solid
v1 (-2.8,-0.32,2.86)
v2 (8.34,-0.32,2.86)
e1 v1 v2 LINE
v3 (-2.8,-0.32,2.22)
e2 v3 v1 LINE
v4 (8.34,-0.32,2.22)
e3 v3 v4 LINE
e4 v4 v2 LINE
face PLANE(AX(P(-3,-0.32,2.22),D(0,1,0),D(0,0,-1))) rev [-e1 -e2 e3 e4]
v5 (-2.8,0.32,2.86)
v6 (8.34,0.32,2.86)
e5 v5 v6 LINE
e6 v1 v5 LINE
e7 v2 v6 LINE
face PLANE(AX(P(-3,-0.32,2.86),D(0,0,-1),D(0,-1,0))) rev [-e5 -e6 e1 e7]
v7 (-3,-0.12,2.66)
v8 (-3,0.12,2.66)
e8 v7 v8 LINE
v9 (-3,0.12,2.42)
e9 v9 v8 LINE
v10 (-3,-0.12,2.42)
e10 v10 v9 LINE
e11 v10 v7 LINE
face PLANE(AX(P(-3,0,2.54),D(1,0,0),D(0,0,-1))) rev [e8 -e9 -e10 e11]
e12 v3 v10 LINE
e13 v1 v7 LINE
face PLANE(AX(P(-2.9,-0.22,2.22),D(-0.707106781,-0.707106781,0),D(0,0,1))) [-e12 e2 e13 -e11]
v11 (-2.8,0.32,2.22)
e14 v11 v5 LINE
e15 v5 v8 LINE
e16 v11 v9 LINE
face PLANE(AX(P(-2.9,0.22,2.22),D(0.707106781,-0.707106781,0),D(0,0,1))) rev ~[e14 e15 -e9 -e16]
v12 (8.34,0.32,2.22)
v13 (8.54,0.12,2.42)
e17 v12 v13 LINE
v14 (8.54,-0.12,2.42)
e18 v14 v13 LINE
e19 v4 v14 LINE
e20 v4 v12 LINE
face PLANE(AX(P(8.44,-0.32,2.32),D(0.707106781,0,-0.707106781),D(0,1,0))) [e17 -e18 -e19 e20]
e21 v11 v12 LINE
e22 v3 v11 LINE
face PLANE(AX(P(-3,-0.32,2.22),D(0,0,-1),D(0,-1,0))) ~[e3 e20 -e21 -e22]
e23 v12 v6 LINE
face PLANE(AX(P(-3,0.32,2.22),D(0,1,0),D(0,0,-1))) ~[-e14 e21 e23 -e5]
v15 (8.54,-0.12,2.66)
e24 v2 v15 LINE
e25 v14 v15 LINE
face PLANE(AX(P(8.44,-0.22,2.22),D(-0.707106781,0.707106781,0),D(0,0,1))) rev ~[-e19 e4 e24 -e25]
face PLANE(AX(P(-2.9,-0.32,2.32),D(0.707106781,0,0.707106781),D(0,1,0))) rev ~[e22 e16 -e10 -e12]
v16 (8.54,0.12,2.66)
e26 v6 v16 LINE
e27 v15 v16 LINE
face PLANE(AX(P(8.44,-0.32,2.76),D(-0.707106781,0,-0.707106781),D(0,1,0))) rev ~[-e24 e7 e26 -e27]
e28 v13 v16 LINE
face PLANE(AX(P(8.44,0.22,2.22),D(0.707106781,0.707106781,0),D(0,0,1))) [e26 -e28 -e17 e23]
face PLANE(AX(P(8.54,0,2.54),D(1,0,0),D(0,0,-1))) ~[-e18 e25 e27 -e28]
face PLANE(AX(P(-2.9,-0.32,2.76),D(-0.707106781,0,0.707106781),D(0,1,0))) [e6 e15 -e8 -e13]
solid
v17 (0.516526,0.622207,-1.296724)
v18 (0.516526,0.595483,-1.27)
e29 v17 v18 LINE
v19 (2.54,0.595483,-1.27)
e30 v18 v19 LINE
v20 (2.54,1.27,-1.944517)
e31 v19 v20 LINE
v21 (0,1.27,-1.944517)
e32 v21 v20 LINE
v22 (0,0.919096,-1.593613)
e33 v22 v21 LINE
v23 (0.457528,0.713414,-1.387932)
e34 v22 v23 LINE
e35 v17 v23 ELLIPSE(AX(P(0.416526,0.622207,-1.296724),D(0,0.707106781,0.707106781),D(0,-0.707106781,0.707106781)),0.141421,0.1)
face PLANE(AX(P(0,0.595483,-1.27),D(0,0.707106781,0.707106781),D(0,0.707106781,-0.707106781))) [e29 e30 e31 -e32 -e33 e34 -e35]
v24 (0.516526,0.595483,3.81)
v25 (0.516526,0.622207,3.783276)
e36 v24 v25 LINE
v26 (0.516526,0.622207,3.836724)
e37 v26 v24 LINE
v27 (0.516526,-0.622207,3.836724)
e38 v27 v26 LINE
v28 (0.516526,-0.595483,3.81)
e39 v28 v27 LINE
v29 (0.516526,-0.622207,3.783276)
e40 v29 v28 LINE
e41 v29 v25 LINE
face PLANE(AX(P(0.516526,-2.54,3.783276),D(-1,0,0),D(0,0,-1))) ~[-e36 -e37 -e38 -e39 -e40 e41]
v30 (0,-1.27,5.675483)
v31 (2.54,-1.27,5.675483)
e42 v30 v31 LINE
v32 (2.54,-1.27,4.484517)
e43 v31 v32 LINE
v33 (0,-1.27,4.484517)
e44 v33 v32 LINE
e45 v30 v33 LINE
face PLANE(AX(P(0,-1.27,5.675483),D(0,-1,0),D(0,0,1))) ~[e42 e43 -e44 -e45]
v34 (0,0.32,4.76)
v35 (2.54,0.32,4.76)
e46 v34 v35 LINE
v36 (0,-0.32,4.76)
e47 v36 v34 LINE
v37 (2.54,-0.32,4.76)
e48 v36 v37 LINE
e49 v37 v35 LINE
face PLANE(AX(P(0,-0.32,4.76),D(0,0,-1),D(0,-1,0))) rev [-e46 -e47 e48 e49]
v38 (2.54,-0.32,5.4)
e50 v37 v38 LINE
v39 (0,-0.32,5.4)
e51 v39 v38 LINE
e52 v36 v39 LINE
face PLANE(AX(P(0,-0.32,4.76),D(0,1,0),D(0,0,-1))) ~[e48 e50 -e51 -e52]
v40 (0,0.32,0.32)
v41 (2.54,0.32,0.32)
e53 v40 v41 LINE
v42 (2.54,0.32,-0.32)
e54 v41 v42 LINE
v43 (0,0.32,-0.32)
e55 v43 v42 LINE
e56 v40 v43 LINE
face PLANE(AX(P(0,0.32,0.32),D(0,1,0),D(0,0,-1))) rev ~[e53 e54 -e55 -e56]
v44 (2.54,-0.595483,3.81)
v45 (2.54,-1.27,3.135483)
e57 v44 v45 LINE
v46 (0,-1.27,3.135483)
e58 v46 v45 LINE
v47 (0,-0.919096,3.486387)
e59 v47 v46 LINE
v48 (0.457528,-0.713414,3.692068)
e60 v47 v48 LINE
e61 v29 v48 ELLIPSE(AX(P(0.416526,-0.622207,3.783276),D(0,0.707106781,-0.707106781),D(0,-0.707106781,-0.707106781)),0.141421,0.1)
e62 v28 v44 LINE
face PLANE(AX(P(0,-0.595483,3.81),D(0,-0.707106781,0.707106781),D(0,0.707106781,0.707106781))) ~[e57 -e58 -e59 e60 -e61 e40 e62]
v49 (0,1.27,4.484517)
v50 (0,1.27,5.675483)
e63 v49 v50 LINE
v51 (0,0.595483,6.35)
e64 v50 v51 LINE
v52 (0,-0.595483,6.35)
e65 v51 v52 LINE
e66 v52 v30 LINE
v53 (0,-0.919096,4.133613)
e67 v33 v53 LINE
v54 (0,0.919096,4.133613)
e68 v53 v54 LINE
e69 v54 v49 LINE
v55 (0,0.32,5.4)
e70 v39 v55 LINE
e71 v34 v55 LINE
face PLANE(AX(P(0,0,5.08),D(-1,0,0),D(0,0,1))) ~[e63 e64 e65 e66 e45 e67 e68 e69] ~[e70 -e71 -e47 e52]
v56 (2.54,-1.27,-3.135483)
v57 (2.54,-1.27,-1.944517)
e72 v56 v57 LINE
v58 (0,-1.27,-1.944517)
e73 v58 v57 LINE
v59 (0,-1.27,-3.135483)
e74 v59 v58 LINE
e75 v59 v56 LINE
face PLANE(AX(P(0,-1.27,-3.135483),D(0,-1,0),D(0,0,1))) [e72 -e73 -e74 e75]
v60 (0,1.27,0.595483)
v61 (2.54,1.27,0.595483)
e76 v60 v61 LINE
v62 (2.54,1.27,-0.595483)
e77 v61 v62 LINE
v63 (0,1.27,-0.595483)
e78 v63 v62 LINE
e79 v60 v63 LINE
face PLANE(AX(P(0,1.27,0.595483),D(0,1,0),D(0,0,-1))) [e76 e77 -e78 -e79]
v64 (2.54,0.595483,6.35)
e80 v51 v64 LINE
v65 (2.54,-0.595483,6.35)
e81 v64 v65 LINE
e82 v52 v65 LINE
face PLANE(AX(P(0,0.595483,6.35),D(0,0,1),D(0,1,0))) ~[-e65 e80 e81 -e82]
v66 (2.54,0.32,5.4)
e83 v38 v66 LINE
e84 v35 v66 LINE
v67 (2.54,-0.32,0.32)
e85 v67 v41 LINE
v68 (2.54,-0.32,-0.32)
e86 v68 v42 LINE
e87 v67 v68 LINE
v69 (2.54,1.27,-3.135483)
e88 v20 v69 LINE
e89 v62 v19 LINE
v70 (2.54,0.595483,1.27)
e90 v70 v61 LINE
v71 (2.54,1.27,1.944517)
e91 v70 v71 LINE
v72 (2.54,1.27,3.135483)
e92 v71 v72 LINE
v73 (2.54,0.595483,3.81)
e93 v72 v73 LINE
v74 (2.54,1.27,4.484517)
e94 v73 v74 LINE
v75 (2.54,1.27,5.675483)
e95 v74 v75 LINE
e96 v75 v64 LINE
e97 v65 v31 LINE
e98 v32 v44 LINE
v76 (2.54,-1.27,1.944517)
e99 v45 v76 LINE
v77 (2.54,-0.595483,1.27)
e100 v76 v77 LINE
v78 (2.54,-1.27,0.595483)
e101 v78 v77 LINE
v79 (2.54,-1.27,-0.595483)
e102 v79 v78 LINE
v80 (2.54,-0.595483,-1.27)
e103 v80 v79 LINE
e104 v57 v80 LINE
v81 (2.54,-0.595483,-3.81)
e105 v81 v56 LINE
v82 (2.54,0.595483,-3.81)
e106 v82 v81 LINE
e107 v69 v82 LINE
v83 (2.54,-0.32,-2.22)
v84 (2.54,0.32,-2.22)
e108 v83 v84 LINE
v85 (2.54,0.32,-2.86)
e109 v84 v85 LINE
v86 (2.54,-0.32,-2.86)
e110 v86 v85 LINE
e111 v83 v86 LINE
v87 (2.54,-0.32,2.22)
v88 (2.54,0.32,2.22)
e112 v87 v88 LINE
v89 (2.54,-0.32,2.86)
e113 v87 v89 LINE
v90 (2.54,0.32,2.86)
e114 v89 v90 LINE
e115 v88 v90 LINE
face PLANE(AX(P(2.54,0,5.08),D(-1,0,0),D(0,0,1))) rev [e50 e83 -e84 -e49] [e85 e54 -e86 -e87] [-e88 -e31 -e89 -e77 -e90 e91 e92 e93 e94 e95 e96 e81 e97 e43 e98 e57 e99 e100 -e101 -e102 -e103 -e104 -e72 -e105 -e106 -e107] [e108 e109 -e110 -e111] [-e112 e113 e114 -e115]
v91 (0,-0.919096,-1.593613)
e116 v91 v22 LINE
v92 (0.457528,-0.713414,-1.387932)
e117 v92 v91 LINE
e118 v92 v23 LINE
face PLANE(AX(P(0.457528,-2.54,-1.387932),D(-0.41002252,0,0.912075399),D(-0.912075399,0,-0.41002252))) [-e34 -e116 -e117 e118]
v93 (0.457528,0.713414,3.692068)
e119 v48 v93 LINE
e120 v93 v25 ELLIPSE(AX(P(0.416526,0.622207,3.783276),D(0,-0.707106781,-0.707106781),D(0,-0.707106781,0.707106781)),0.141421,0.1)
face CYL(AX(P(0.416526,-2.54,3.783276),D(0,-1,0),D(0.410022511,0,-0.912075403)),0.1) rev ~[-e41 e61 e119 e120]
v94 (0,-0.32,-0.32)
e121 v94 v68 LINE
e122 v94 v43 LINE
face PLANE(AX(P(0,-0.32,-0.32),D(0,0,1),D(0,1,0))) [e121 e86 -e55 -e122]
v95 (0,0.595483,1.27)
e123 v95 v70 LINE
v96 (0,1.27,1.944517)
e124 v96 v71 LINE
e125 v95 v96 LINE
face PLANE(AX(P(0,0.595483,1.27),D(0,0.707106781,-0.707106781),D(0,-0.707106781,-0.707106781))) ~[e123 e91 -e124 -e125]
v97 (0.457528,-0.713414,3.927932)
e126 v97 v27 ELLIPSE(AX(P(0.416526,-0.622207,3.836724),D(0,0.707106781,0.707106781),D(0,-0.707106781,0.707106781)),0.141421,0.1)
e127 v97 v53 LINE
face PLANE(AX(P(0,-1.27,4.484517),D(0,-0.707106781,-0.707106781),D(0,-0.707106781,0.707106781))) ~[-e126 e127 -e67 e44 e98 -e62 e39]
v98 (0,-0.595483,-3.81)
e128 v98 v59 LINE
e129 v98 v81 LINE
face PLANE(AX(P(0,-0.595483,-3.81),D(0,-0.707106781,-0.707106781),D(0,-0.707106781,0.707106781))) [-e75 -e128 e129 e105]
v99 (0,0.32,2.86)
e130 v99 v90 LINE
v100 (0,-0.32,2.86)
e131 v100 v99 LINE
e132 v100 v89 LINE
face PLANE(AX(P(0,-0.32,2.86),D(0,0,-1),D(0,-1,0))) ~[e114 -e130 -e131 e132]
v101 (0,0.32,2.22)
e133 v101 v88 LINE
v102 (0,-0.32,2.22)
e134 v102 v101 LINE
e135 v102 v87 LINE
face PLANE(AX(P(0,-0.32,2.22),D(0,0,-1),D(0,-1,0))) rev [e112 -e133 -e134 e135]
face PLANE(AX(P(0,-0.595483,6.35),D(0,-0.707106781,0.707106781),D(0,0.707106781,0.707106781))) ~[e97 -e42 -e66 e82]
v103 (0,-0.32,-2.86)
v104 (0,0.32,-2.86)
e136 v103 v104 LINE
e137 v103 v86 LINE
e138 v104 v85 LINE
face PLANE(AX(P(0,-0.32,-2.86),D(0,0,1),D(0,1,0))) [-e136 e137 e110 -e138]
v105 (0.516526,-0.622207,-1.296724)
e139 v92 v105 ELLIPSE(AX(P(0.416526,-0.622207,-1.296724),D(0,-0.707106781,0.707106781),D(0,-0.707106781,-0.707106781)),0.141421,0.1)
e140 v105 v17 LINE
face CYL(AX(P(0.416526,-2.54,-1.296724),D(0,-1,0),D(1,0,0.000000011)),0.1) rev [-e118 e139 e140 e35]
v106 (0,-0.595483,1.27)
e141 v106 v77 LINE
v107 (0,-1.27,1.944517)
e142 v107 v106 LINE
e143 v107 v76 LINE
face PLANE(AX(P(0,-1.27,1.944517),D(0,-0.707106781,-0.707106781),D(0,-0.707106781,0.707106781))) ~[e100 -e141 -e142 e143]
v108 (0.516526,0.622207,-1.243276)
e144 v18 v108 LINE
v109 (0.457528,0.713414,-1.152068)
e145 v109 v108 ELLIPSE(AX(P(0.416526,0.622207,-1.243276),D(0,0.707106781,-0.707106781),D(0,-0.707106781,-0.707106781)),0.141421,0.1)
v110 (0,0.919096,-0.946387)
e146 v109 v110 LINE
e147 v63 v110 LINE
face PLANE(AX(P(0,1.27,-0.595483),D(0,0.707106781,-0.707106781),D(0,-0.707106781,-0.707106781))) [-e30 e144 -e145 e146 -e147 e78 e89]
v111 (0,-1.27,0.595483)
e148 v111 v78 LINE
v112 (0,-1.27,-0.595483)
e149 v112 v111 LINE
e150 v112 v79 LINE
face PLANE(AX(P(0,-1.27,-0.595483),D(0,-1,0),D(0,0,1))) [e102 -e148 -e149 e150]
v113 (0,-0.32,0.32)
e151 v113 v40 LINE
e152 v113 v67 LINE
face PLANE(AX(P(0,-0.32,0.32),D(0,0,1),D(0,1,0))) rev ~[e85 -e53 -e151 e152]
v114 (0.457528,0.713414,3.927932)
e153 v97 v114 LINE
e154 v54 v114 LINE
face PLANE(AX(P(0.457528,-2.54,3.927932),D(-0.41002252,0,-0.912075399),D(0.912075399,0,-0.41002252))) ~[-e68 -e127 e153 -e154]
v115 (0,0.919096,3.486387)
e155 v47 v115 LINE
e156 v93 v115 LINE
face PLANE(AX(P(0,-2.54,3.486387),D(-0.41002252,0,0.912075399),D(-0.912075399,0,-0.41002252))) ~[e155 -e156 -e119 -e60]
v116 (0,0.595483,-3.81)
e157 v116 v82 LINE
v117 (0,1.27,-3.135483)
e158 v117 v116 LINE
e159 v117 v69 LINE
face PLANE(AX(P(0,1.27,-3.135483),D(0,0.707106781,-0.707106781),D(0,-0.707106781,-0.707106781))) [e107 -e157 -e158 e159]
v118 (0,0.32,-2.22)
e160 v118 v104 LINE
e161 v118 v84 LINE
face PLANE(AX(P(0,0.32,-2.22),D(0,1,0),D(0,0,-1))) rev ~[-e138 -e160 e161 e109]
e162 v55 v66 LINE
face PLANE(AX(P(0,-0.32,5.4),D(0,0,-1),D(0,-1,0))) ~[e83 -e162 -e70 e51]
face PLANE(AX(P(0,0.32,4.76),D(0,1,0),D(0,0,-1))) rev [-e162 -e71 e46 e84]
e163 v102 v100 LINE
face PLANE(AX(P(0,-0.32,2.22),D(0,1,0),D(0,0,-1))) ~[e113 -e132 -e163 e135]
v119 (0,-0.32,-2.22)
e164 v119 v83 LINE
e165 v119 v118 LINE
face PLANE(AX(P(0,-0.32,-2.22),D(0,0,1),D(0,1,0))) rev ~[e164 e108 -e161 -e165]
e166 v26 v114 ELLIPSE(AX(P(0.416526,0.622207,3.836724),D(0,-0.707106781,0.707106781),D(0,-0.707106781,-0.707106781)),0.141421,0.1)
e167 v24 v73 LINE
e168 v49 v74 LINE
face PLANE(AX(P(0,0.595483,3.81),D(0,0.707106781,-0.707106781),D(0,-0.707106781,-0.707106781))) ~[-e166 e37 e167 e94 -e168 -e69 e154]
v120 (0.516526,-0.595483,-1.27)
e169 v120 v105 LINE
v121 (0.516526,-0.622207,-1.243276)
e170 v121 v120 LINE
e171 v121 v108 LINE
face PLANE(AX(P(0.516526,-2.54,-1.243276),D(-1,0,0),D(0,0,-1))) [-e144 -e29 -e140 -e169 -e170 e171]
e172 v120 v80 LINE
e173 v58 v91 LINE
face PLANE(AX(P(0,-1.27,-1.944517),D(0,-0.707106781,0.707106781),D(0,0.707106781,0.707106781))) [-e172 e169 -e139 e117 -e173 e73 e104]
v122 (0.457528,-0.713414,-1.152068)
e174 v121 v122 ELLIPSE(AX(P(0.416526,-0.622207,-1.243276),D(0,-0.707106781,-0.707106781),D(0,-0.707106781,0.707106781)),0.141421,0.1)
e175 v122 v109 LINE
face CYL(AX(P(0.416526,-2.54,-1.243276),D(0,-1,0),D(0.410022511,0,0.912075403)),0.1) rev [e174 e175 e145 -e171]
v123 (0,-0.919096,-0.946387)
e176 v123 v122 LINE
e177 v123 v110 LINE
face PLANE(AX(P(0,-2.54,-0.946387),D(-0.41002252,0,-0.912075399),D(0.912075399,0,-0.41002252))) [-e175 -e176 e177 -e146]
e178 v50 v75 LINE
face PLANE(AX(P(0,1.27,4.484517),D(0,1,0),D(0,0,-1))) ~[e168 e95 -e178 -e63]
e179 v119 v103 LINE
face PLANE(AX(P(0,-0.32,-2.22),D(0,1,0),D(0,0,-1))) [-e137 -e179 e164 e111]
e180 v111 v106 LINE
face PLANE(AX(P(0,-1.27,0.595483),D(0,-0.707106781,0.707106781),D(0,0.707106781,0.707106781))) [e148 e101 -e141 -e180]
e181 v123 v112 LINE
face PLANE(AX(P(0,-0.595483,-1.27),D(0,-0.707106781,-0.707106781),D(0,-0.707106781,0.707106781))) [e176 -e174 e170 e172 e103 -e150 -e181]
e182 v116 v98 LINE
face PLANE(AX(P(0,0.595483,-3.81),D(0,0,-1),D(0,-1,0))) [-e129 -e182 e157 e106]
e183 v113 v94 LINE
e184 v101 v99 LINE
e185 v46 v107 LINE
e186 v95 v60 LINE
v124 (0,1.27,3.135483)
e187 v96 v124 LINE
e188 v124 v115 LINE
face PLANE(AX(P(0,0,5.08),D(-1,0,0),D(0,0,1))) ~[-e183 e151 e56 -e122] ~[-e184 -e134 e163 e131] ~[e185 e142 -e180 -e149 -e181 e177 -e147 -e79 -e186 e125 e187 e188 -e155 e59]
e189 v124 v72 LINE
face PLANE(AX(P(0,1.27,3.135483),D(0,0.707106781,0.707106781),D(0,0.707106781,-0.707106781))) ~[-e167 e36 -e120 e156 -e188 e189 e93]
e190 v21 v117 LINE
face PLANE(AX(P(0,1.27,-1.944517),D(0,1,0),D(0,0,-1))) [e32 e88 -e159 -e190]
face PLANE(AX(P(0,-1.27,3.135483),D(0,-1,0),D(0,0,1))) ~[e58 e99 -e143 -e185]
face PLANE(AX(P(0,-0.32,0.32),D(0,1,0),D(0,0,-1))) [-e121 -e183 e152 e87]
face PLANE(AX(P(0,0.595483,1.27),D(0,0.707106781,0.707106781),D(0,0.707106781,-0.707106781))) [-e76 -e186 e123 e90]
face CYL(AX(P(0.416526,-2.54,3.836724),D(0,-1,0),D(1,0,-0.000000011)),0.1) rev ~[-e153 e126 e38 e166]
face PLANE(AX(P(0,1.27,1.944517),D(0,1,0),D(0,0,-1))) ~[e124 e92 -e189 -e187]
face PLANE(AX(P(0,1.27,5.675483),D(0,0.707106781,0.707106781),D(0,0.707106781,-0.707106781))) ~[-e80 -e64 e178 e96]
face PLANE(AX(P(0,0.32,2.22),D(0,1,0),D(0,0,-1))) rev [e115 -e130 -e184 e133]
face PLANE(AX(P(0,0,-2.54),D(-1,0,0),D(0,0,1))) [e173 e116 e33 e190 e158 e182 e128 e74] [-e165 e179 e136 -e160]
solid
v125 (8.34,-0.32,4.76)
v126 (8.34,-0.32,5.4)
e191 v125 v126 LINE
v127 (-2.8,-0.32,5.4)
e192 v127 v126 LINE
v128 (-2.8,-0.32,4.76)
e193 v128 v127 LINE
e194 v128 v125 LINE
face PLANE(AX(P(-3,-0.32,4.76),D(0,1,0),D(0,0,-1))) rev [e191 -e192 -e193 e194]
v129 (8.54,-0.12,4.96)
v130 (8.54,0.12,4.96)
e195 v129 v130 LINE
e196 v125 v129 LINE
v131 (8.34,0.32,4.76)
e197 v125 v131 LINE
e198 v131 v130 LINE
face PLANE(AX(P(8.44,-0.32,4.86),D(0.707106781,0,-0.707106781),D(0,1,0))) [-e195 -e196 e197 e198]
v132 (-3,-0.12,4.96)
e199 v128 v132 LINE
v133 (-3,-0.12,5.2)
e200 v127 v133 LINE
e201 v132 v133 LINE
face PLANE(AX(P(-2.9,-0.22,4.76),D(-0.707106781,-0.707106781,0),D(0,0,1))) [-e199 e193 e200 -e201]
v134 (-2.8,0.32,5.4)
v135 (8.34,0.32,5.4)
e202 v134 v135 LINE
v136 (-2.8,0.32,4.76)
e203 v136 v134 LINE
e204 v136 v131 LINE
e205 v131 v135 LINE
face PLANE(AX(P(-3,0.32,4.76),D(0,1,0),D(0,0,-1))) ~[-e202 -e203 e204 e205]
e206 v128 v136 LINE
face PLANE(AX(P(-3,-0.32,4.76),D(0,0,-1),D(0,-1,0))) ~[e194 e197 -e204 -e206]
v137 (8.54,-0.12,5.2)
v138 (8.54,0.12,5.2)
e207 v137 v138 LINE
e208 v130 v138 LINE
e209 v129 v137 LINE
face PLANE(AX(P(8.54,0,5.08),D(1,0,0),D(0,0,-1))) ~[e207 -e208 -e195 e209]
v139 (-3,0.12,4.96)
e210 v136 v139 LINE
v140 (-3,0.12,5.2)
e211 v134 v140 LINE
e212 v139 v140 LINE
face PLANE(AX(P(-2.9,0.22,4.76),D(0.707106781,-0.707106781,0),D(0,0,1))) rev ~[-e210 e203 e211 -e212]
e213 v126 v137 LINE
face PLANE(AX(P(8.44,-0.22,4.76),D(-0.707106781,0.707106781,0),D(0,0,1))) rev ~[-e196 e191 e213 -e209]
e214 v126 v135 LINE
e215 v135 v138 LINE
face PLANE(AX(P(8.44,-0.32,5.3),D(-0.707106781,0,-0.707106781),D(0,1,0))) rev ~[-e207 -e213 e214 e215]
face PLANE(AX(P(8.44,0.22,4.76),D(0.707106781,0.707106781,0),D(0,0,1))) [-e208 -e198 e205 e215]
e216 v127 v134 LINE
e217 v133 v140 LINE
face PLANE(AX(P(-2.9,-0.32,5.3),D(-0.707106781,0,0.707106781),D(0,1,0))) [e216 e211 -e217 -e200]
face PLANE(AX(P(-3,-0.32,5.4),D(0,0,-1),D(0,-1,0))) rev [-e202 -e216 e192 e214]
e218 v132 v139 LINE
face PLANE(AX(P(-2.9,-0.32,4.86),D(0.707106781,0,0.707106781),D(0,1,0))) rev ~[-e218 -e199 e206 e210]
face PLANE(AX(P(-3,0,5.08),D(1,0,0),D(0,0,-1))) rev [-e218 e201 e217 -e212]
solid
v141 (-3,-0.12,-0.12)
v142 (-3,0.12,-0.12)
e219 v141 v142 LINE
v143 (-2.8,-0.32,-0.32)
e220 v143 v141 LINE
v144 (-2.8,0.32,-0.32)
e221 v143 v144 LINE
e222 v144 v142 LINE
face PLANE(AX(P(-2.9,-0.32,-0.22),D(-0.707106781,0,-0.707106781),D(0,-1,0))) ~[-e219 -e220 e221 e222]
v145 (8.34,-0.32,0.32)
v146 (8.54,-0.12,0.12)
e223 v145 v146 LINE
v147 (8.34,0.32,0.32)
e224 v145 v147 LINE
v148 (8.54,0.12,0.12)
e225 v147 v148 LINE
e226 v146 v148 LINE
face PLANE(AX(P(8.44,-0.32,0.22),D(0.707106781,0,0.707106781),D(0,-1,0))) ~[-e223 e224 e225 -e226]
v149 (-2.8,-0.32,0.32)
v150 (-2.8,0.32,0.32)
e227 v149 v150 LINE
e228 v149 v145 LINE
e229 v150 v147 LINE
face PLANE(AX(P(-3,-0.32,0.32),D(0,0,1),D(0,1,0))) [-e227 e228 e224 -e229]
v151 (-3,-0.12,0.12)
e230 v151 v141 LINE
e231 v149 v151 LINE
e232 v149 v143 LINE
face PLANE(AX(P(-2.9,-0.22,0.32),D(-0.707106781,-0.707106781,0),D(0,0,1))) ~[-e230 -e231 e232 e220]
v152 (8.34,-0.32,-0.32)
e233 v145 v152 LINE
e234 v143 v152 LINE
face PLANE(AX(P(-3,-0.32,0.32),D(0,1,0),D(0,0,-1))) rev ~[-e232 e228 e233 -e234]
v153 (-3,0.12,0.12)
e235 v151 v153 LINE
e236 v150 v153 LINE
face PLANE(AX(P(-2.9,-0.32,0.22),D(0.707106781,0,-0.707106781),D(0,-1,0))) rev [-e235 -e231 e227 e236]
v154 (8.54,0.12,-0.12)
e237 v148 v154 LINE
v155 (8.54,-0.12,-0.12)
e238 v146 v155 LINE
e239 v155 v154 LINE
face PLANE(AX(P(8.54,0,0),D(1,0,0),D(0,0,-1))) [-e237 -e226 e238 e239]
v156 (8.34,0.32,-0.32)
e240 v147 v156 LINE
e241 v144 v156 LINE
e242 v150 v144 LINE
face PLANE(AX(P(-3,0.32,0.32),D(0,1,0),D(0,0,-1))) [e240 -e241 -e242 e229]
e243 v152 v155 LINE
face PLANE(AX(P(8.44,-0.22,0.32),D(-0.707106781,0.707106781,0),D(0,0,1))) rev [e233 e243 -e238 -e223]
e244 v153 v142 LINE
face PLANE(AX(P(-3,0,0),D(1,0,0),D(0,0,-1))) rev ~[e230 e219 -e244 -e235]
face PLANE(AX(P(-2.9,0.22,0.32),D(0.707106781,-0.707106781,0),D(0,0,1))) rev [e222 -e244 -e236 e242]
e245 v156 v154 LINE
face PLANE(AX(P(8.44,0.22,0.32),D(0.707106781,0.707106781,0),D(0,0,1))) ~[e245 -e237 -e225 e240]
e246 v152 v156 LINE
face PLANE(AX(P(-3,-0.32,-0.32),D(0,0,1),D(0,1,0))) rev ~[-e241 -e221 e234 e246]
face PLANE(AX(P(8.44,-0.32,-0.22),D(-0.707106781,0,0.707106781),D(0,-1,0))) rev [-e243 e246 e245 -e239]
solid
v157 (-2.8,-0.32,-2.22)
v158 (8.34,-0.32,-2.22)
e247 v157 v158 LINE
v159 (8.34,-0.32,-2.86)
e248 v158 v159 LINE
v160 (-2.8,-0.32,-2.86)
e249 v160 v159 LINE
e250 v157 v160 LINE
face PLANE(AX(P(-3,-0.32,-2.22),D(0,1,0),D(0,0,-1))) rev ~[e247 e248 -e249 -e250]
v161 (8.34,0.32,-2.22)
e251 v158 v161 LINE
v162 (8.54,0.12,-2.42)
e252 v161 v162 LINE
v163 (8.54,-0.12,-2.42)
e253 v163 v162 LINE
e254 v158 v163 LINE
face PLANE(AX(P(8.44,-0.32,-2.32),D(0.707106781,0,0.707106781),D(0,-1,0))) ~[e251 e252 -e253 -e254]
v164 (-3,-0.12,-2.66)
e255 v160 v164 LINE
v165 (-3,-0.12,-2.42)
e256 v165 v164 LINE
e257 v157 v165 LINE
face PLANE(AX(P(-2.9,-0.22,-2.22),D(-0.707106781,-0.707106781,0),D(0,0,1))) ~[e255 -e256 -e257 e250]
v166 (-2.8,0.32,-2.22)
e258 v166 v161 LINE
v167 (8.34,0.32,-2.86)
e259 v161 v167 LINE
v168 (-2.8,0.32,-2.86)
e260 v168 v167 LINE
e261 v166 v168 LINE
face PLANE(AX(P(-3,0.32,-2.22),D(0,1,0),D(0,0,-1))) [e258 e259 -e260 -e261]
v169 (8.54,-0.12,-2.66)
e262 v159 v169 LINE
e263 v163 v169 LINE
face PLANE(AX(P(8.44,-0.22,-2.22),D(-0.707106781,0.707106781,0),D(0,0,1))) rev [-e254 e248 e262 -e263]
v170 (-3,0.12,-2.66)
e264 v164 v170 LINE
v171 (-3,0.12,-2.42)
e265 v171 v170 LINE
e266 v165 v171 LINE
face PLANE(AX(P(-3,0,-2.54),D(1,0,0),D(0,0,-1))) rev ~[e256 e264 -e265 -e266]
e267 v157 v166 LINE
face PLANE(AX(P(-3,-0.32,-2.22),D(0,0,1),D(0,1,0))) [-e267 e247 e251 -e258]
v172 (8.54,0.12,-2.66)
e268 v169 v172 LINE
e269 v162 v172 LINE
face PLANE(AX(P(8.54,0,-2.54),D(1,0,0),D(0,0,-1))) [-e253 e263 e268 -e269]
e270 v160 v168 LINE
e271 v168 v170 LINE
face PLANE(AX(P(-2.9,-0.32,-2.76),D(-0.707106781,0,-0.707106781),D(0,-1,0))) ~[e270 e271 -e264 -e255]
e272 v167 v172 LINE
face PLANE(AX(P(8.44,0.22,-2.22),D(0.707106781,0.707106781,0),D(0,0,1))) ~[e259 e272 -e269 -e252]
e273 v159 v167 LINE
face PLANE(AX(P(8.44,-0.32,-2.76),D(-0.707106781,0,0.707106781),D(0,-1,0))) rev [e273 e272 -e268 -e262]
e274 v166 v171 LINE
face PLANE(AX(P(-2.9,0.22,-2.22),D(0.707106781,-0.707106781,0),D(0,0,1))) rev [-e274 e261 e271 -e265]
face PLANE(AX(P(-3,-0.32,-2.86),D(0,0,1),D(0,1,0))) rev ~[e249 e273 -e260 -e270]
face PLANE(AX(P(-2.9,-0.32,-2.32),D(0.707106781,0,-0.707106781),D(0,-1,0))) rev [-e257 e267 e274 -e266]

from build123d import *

# Parameters (mm, degrees)
CROQUIS1_W                     = 0.64
CROQUIS1_H                     = 0.64
SALIENTE_EXTRUIR1_DEPTH        = 2.54
CORTAR_EXTRUIR1_DEPTH          = 2.54
CORTAR_EXTRUIR1_DEPTH_BACK     = 2.54
SALIENTE_EXTRUIR2_DEPTH        = 8.54
SALIENTE_EXTRUIR2_DEPTH_BACK   = 3
CROQUIS3_W                     = 0.64
CROQUIS3_H                     = 0.64
SALIENTE_EXTRUIR2_2_DEPTH      = 8.54
SALIENTE_EXTRUIR2_2_DEPTH_BACK = 3
CHAFL_N1_SIZE                  = 0.2
CHAFL_N2_SIZE                  = 0.2


with BuildPart() as part:
    # Croquis1 → Saliente-Extruir1 (new body)
    # profile 1 of 2: a face of its own
    with BuildSketch(Plane(origin=(0, 0, 0), x_dir=(0, 0, -1), z_dir=(1, 0, 0))):
        Polygon((1.27, 0.595482683), (1.27, -0.595482683), (0.595482683, -1.27), (-0.595482683, -1.27), (-1.27, -0.595482683), (-1.27, 0.595482683), (-0.595482683, 1.27), (0.595482683, 1.27), align=None)
        Rectangle(CROQUIS1_W, CROQUIS1_H, mode=Mode.SUBTRACT)
    # profile 2 of 2: a face of its own
    with BuildSketch(Plane(origin=(0, 0, 0), x_dir=(0, 0, -1), z_dir=(1, 0, 0))):
        Polygon((3.135482683, 1.27), (3.81, 0.595482683), (3.81, -0.595482683), (3.135482683, -1.27), (1.944517317, -1.27), (1.27, -0.595482683), (1.27, 0.595482683), (1.944517317, 1.27), align=None)
        with Locations((2.54, 0)):
            Rectangle(CROQUIS1_W, CROQUIS1_H, mode=Mode.SUBTRACT)
    extrude(amount=SALIENTE_EXTRUIR1_DEPTH)

    # Croquis2 → Cortar-Extruir1 (cut, two sides: drawn at the far end of the back side and taken through both)
    with BuildSketch(Plane(origin=(0, 0, 0), x_dir=(1, 0, 0), z_dir=(0, 1, 0)).offset(-CORTAR_EXTRUIR1_DEPTH_BACK)):
        with BuildLine():
            Line((0.516526244, 1.243275937), (0.516526244, 1.296724063))
            ThreePointArc((0.516526244, 1.296724063), (0.500491193, 1.351036929), (0.457528496, 1.387931603))
            Line((0.457528496, 1.387931603), (0, 1.593613049))
            Line((0, 1.593613049), (0, 0.946386951))
            Line((0, 0.946386951), (0.457528496, 1.152068397))
            ThreePointArc((0.457528496, 1.152068397), (0.500491193, 1.188963071), (0.516526244, 1.243275937))
        make_face()
    extrude(amount=CORTAR_EXTRUIR1_DEPTH + CORTAR_EXTRUIR1_DEPTH_BACK, mode=Mode.SUBTRACT)

    # Mirror5: part across plane


with BuildPart() as body_2:
    # Croquis3 → Saliente-Extruir2 (new, two sides: drawn at the far end of the back side and taken through both)
    with BuildSketch(Plane(origin=(0, 0, 0), x_dir=(0, 0, -1), z_dir=(1, 0, 0)).offset(-SALIENTE_EXTRUIR2_DEPTH_BACK)):
        Rectangle(CROQUIS3_W, CROQUIS3_H)
    extrude(amount=SALIENTE_EXTRUIR2_DEPTH + SALIENTE_EXTRUIR2_DEPTH_BACK)

    # Chaflán1
    chafl_n1_edges = [body_2.edges().sort_by_distance(p)[0] for p in [
        (-3, 0, -0.32),
        (8.54, 0, 0.32),
        (8.54, -0.32, 0),
        (-3, 0.32, 0),
        (8.54, 0, -0.32),
        (8.54, 0.32, 0),
        (-3, 0, 0.32),
        (-3, -0.32, 0),
    ]]
    chamfer(chafl_n1_edges, length=CHAFL_N1_SIZE)


with BuildPart() as body_3:
    # Croquis3 → Saliente-Extruir2 2 (new, two sides: drawn at the far end of the back side and taken through both)
    with BuildSketch(Plane(origin=(0, 0, 0), x_dir=(0, 0, -1), z_dir=(1, 0, 0)).offset(-SALIENTE_EXTRUIR2_2_DEPTH_BACK)):
        with Locations((2.54, 0)):
            Rectangle(CROQUIS3_W, CROQUIS3_H)
    extrude(amount=SALIENTE_EXTRUIR2_2_DEPTH + SALIENTE_EXTRUIR2_2_DEPTH_BACK)

    # Chaflán2
    chafl_n2_edges = [body_3.edges().sort_by_distance(p)[0] for p in [
        (-3, 0, -2.86),
        (8.54, 0, -2.22),
        (8.54, -0.32, -2.54),
        (-3, 0.32, -2.54),
        (8.54, 0, -2.86),
        (8.54, 0.32, -2.54),
        (-3, 0, -2.22),
        (-3, -0.32, -2.54),
    ]]
    chamfer(chafl_n2_edges, length=CHAFL_N2_SIZE)


with BuildPart() as body_4:
    # Mirror3: mirrored copy
    add(body_2.part.mirror(Plane(origin=(2.54, 0, 1.27), x_dir=(1, 0, 0), z_dir=(0, 0, -1))))


with BuildPart() as body_5:
    # Mirror3 2: mirrored copy
    add(body_3.part.mirror(Plane(origin=(2.54, 0, 1.27), x_dir=(1, 0, 0), z_dir=(0, 0, -1))))


with BuildPart() as part_1:
    add(part.part)
    add(part.part.mirror(Plane(origin=(2.54, 0, 1.27), x_dir=(1, 0, 0), z_dir=(0, 0, -1))))


solid = Compound([body_2.part, body_3.part, body_4.part, body_5.part, part_1.part])
